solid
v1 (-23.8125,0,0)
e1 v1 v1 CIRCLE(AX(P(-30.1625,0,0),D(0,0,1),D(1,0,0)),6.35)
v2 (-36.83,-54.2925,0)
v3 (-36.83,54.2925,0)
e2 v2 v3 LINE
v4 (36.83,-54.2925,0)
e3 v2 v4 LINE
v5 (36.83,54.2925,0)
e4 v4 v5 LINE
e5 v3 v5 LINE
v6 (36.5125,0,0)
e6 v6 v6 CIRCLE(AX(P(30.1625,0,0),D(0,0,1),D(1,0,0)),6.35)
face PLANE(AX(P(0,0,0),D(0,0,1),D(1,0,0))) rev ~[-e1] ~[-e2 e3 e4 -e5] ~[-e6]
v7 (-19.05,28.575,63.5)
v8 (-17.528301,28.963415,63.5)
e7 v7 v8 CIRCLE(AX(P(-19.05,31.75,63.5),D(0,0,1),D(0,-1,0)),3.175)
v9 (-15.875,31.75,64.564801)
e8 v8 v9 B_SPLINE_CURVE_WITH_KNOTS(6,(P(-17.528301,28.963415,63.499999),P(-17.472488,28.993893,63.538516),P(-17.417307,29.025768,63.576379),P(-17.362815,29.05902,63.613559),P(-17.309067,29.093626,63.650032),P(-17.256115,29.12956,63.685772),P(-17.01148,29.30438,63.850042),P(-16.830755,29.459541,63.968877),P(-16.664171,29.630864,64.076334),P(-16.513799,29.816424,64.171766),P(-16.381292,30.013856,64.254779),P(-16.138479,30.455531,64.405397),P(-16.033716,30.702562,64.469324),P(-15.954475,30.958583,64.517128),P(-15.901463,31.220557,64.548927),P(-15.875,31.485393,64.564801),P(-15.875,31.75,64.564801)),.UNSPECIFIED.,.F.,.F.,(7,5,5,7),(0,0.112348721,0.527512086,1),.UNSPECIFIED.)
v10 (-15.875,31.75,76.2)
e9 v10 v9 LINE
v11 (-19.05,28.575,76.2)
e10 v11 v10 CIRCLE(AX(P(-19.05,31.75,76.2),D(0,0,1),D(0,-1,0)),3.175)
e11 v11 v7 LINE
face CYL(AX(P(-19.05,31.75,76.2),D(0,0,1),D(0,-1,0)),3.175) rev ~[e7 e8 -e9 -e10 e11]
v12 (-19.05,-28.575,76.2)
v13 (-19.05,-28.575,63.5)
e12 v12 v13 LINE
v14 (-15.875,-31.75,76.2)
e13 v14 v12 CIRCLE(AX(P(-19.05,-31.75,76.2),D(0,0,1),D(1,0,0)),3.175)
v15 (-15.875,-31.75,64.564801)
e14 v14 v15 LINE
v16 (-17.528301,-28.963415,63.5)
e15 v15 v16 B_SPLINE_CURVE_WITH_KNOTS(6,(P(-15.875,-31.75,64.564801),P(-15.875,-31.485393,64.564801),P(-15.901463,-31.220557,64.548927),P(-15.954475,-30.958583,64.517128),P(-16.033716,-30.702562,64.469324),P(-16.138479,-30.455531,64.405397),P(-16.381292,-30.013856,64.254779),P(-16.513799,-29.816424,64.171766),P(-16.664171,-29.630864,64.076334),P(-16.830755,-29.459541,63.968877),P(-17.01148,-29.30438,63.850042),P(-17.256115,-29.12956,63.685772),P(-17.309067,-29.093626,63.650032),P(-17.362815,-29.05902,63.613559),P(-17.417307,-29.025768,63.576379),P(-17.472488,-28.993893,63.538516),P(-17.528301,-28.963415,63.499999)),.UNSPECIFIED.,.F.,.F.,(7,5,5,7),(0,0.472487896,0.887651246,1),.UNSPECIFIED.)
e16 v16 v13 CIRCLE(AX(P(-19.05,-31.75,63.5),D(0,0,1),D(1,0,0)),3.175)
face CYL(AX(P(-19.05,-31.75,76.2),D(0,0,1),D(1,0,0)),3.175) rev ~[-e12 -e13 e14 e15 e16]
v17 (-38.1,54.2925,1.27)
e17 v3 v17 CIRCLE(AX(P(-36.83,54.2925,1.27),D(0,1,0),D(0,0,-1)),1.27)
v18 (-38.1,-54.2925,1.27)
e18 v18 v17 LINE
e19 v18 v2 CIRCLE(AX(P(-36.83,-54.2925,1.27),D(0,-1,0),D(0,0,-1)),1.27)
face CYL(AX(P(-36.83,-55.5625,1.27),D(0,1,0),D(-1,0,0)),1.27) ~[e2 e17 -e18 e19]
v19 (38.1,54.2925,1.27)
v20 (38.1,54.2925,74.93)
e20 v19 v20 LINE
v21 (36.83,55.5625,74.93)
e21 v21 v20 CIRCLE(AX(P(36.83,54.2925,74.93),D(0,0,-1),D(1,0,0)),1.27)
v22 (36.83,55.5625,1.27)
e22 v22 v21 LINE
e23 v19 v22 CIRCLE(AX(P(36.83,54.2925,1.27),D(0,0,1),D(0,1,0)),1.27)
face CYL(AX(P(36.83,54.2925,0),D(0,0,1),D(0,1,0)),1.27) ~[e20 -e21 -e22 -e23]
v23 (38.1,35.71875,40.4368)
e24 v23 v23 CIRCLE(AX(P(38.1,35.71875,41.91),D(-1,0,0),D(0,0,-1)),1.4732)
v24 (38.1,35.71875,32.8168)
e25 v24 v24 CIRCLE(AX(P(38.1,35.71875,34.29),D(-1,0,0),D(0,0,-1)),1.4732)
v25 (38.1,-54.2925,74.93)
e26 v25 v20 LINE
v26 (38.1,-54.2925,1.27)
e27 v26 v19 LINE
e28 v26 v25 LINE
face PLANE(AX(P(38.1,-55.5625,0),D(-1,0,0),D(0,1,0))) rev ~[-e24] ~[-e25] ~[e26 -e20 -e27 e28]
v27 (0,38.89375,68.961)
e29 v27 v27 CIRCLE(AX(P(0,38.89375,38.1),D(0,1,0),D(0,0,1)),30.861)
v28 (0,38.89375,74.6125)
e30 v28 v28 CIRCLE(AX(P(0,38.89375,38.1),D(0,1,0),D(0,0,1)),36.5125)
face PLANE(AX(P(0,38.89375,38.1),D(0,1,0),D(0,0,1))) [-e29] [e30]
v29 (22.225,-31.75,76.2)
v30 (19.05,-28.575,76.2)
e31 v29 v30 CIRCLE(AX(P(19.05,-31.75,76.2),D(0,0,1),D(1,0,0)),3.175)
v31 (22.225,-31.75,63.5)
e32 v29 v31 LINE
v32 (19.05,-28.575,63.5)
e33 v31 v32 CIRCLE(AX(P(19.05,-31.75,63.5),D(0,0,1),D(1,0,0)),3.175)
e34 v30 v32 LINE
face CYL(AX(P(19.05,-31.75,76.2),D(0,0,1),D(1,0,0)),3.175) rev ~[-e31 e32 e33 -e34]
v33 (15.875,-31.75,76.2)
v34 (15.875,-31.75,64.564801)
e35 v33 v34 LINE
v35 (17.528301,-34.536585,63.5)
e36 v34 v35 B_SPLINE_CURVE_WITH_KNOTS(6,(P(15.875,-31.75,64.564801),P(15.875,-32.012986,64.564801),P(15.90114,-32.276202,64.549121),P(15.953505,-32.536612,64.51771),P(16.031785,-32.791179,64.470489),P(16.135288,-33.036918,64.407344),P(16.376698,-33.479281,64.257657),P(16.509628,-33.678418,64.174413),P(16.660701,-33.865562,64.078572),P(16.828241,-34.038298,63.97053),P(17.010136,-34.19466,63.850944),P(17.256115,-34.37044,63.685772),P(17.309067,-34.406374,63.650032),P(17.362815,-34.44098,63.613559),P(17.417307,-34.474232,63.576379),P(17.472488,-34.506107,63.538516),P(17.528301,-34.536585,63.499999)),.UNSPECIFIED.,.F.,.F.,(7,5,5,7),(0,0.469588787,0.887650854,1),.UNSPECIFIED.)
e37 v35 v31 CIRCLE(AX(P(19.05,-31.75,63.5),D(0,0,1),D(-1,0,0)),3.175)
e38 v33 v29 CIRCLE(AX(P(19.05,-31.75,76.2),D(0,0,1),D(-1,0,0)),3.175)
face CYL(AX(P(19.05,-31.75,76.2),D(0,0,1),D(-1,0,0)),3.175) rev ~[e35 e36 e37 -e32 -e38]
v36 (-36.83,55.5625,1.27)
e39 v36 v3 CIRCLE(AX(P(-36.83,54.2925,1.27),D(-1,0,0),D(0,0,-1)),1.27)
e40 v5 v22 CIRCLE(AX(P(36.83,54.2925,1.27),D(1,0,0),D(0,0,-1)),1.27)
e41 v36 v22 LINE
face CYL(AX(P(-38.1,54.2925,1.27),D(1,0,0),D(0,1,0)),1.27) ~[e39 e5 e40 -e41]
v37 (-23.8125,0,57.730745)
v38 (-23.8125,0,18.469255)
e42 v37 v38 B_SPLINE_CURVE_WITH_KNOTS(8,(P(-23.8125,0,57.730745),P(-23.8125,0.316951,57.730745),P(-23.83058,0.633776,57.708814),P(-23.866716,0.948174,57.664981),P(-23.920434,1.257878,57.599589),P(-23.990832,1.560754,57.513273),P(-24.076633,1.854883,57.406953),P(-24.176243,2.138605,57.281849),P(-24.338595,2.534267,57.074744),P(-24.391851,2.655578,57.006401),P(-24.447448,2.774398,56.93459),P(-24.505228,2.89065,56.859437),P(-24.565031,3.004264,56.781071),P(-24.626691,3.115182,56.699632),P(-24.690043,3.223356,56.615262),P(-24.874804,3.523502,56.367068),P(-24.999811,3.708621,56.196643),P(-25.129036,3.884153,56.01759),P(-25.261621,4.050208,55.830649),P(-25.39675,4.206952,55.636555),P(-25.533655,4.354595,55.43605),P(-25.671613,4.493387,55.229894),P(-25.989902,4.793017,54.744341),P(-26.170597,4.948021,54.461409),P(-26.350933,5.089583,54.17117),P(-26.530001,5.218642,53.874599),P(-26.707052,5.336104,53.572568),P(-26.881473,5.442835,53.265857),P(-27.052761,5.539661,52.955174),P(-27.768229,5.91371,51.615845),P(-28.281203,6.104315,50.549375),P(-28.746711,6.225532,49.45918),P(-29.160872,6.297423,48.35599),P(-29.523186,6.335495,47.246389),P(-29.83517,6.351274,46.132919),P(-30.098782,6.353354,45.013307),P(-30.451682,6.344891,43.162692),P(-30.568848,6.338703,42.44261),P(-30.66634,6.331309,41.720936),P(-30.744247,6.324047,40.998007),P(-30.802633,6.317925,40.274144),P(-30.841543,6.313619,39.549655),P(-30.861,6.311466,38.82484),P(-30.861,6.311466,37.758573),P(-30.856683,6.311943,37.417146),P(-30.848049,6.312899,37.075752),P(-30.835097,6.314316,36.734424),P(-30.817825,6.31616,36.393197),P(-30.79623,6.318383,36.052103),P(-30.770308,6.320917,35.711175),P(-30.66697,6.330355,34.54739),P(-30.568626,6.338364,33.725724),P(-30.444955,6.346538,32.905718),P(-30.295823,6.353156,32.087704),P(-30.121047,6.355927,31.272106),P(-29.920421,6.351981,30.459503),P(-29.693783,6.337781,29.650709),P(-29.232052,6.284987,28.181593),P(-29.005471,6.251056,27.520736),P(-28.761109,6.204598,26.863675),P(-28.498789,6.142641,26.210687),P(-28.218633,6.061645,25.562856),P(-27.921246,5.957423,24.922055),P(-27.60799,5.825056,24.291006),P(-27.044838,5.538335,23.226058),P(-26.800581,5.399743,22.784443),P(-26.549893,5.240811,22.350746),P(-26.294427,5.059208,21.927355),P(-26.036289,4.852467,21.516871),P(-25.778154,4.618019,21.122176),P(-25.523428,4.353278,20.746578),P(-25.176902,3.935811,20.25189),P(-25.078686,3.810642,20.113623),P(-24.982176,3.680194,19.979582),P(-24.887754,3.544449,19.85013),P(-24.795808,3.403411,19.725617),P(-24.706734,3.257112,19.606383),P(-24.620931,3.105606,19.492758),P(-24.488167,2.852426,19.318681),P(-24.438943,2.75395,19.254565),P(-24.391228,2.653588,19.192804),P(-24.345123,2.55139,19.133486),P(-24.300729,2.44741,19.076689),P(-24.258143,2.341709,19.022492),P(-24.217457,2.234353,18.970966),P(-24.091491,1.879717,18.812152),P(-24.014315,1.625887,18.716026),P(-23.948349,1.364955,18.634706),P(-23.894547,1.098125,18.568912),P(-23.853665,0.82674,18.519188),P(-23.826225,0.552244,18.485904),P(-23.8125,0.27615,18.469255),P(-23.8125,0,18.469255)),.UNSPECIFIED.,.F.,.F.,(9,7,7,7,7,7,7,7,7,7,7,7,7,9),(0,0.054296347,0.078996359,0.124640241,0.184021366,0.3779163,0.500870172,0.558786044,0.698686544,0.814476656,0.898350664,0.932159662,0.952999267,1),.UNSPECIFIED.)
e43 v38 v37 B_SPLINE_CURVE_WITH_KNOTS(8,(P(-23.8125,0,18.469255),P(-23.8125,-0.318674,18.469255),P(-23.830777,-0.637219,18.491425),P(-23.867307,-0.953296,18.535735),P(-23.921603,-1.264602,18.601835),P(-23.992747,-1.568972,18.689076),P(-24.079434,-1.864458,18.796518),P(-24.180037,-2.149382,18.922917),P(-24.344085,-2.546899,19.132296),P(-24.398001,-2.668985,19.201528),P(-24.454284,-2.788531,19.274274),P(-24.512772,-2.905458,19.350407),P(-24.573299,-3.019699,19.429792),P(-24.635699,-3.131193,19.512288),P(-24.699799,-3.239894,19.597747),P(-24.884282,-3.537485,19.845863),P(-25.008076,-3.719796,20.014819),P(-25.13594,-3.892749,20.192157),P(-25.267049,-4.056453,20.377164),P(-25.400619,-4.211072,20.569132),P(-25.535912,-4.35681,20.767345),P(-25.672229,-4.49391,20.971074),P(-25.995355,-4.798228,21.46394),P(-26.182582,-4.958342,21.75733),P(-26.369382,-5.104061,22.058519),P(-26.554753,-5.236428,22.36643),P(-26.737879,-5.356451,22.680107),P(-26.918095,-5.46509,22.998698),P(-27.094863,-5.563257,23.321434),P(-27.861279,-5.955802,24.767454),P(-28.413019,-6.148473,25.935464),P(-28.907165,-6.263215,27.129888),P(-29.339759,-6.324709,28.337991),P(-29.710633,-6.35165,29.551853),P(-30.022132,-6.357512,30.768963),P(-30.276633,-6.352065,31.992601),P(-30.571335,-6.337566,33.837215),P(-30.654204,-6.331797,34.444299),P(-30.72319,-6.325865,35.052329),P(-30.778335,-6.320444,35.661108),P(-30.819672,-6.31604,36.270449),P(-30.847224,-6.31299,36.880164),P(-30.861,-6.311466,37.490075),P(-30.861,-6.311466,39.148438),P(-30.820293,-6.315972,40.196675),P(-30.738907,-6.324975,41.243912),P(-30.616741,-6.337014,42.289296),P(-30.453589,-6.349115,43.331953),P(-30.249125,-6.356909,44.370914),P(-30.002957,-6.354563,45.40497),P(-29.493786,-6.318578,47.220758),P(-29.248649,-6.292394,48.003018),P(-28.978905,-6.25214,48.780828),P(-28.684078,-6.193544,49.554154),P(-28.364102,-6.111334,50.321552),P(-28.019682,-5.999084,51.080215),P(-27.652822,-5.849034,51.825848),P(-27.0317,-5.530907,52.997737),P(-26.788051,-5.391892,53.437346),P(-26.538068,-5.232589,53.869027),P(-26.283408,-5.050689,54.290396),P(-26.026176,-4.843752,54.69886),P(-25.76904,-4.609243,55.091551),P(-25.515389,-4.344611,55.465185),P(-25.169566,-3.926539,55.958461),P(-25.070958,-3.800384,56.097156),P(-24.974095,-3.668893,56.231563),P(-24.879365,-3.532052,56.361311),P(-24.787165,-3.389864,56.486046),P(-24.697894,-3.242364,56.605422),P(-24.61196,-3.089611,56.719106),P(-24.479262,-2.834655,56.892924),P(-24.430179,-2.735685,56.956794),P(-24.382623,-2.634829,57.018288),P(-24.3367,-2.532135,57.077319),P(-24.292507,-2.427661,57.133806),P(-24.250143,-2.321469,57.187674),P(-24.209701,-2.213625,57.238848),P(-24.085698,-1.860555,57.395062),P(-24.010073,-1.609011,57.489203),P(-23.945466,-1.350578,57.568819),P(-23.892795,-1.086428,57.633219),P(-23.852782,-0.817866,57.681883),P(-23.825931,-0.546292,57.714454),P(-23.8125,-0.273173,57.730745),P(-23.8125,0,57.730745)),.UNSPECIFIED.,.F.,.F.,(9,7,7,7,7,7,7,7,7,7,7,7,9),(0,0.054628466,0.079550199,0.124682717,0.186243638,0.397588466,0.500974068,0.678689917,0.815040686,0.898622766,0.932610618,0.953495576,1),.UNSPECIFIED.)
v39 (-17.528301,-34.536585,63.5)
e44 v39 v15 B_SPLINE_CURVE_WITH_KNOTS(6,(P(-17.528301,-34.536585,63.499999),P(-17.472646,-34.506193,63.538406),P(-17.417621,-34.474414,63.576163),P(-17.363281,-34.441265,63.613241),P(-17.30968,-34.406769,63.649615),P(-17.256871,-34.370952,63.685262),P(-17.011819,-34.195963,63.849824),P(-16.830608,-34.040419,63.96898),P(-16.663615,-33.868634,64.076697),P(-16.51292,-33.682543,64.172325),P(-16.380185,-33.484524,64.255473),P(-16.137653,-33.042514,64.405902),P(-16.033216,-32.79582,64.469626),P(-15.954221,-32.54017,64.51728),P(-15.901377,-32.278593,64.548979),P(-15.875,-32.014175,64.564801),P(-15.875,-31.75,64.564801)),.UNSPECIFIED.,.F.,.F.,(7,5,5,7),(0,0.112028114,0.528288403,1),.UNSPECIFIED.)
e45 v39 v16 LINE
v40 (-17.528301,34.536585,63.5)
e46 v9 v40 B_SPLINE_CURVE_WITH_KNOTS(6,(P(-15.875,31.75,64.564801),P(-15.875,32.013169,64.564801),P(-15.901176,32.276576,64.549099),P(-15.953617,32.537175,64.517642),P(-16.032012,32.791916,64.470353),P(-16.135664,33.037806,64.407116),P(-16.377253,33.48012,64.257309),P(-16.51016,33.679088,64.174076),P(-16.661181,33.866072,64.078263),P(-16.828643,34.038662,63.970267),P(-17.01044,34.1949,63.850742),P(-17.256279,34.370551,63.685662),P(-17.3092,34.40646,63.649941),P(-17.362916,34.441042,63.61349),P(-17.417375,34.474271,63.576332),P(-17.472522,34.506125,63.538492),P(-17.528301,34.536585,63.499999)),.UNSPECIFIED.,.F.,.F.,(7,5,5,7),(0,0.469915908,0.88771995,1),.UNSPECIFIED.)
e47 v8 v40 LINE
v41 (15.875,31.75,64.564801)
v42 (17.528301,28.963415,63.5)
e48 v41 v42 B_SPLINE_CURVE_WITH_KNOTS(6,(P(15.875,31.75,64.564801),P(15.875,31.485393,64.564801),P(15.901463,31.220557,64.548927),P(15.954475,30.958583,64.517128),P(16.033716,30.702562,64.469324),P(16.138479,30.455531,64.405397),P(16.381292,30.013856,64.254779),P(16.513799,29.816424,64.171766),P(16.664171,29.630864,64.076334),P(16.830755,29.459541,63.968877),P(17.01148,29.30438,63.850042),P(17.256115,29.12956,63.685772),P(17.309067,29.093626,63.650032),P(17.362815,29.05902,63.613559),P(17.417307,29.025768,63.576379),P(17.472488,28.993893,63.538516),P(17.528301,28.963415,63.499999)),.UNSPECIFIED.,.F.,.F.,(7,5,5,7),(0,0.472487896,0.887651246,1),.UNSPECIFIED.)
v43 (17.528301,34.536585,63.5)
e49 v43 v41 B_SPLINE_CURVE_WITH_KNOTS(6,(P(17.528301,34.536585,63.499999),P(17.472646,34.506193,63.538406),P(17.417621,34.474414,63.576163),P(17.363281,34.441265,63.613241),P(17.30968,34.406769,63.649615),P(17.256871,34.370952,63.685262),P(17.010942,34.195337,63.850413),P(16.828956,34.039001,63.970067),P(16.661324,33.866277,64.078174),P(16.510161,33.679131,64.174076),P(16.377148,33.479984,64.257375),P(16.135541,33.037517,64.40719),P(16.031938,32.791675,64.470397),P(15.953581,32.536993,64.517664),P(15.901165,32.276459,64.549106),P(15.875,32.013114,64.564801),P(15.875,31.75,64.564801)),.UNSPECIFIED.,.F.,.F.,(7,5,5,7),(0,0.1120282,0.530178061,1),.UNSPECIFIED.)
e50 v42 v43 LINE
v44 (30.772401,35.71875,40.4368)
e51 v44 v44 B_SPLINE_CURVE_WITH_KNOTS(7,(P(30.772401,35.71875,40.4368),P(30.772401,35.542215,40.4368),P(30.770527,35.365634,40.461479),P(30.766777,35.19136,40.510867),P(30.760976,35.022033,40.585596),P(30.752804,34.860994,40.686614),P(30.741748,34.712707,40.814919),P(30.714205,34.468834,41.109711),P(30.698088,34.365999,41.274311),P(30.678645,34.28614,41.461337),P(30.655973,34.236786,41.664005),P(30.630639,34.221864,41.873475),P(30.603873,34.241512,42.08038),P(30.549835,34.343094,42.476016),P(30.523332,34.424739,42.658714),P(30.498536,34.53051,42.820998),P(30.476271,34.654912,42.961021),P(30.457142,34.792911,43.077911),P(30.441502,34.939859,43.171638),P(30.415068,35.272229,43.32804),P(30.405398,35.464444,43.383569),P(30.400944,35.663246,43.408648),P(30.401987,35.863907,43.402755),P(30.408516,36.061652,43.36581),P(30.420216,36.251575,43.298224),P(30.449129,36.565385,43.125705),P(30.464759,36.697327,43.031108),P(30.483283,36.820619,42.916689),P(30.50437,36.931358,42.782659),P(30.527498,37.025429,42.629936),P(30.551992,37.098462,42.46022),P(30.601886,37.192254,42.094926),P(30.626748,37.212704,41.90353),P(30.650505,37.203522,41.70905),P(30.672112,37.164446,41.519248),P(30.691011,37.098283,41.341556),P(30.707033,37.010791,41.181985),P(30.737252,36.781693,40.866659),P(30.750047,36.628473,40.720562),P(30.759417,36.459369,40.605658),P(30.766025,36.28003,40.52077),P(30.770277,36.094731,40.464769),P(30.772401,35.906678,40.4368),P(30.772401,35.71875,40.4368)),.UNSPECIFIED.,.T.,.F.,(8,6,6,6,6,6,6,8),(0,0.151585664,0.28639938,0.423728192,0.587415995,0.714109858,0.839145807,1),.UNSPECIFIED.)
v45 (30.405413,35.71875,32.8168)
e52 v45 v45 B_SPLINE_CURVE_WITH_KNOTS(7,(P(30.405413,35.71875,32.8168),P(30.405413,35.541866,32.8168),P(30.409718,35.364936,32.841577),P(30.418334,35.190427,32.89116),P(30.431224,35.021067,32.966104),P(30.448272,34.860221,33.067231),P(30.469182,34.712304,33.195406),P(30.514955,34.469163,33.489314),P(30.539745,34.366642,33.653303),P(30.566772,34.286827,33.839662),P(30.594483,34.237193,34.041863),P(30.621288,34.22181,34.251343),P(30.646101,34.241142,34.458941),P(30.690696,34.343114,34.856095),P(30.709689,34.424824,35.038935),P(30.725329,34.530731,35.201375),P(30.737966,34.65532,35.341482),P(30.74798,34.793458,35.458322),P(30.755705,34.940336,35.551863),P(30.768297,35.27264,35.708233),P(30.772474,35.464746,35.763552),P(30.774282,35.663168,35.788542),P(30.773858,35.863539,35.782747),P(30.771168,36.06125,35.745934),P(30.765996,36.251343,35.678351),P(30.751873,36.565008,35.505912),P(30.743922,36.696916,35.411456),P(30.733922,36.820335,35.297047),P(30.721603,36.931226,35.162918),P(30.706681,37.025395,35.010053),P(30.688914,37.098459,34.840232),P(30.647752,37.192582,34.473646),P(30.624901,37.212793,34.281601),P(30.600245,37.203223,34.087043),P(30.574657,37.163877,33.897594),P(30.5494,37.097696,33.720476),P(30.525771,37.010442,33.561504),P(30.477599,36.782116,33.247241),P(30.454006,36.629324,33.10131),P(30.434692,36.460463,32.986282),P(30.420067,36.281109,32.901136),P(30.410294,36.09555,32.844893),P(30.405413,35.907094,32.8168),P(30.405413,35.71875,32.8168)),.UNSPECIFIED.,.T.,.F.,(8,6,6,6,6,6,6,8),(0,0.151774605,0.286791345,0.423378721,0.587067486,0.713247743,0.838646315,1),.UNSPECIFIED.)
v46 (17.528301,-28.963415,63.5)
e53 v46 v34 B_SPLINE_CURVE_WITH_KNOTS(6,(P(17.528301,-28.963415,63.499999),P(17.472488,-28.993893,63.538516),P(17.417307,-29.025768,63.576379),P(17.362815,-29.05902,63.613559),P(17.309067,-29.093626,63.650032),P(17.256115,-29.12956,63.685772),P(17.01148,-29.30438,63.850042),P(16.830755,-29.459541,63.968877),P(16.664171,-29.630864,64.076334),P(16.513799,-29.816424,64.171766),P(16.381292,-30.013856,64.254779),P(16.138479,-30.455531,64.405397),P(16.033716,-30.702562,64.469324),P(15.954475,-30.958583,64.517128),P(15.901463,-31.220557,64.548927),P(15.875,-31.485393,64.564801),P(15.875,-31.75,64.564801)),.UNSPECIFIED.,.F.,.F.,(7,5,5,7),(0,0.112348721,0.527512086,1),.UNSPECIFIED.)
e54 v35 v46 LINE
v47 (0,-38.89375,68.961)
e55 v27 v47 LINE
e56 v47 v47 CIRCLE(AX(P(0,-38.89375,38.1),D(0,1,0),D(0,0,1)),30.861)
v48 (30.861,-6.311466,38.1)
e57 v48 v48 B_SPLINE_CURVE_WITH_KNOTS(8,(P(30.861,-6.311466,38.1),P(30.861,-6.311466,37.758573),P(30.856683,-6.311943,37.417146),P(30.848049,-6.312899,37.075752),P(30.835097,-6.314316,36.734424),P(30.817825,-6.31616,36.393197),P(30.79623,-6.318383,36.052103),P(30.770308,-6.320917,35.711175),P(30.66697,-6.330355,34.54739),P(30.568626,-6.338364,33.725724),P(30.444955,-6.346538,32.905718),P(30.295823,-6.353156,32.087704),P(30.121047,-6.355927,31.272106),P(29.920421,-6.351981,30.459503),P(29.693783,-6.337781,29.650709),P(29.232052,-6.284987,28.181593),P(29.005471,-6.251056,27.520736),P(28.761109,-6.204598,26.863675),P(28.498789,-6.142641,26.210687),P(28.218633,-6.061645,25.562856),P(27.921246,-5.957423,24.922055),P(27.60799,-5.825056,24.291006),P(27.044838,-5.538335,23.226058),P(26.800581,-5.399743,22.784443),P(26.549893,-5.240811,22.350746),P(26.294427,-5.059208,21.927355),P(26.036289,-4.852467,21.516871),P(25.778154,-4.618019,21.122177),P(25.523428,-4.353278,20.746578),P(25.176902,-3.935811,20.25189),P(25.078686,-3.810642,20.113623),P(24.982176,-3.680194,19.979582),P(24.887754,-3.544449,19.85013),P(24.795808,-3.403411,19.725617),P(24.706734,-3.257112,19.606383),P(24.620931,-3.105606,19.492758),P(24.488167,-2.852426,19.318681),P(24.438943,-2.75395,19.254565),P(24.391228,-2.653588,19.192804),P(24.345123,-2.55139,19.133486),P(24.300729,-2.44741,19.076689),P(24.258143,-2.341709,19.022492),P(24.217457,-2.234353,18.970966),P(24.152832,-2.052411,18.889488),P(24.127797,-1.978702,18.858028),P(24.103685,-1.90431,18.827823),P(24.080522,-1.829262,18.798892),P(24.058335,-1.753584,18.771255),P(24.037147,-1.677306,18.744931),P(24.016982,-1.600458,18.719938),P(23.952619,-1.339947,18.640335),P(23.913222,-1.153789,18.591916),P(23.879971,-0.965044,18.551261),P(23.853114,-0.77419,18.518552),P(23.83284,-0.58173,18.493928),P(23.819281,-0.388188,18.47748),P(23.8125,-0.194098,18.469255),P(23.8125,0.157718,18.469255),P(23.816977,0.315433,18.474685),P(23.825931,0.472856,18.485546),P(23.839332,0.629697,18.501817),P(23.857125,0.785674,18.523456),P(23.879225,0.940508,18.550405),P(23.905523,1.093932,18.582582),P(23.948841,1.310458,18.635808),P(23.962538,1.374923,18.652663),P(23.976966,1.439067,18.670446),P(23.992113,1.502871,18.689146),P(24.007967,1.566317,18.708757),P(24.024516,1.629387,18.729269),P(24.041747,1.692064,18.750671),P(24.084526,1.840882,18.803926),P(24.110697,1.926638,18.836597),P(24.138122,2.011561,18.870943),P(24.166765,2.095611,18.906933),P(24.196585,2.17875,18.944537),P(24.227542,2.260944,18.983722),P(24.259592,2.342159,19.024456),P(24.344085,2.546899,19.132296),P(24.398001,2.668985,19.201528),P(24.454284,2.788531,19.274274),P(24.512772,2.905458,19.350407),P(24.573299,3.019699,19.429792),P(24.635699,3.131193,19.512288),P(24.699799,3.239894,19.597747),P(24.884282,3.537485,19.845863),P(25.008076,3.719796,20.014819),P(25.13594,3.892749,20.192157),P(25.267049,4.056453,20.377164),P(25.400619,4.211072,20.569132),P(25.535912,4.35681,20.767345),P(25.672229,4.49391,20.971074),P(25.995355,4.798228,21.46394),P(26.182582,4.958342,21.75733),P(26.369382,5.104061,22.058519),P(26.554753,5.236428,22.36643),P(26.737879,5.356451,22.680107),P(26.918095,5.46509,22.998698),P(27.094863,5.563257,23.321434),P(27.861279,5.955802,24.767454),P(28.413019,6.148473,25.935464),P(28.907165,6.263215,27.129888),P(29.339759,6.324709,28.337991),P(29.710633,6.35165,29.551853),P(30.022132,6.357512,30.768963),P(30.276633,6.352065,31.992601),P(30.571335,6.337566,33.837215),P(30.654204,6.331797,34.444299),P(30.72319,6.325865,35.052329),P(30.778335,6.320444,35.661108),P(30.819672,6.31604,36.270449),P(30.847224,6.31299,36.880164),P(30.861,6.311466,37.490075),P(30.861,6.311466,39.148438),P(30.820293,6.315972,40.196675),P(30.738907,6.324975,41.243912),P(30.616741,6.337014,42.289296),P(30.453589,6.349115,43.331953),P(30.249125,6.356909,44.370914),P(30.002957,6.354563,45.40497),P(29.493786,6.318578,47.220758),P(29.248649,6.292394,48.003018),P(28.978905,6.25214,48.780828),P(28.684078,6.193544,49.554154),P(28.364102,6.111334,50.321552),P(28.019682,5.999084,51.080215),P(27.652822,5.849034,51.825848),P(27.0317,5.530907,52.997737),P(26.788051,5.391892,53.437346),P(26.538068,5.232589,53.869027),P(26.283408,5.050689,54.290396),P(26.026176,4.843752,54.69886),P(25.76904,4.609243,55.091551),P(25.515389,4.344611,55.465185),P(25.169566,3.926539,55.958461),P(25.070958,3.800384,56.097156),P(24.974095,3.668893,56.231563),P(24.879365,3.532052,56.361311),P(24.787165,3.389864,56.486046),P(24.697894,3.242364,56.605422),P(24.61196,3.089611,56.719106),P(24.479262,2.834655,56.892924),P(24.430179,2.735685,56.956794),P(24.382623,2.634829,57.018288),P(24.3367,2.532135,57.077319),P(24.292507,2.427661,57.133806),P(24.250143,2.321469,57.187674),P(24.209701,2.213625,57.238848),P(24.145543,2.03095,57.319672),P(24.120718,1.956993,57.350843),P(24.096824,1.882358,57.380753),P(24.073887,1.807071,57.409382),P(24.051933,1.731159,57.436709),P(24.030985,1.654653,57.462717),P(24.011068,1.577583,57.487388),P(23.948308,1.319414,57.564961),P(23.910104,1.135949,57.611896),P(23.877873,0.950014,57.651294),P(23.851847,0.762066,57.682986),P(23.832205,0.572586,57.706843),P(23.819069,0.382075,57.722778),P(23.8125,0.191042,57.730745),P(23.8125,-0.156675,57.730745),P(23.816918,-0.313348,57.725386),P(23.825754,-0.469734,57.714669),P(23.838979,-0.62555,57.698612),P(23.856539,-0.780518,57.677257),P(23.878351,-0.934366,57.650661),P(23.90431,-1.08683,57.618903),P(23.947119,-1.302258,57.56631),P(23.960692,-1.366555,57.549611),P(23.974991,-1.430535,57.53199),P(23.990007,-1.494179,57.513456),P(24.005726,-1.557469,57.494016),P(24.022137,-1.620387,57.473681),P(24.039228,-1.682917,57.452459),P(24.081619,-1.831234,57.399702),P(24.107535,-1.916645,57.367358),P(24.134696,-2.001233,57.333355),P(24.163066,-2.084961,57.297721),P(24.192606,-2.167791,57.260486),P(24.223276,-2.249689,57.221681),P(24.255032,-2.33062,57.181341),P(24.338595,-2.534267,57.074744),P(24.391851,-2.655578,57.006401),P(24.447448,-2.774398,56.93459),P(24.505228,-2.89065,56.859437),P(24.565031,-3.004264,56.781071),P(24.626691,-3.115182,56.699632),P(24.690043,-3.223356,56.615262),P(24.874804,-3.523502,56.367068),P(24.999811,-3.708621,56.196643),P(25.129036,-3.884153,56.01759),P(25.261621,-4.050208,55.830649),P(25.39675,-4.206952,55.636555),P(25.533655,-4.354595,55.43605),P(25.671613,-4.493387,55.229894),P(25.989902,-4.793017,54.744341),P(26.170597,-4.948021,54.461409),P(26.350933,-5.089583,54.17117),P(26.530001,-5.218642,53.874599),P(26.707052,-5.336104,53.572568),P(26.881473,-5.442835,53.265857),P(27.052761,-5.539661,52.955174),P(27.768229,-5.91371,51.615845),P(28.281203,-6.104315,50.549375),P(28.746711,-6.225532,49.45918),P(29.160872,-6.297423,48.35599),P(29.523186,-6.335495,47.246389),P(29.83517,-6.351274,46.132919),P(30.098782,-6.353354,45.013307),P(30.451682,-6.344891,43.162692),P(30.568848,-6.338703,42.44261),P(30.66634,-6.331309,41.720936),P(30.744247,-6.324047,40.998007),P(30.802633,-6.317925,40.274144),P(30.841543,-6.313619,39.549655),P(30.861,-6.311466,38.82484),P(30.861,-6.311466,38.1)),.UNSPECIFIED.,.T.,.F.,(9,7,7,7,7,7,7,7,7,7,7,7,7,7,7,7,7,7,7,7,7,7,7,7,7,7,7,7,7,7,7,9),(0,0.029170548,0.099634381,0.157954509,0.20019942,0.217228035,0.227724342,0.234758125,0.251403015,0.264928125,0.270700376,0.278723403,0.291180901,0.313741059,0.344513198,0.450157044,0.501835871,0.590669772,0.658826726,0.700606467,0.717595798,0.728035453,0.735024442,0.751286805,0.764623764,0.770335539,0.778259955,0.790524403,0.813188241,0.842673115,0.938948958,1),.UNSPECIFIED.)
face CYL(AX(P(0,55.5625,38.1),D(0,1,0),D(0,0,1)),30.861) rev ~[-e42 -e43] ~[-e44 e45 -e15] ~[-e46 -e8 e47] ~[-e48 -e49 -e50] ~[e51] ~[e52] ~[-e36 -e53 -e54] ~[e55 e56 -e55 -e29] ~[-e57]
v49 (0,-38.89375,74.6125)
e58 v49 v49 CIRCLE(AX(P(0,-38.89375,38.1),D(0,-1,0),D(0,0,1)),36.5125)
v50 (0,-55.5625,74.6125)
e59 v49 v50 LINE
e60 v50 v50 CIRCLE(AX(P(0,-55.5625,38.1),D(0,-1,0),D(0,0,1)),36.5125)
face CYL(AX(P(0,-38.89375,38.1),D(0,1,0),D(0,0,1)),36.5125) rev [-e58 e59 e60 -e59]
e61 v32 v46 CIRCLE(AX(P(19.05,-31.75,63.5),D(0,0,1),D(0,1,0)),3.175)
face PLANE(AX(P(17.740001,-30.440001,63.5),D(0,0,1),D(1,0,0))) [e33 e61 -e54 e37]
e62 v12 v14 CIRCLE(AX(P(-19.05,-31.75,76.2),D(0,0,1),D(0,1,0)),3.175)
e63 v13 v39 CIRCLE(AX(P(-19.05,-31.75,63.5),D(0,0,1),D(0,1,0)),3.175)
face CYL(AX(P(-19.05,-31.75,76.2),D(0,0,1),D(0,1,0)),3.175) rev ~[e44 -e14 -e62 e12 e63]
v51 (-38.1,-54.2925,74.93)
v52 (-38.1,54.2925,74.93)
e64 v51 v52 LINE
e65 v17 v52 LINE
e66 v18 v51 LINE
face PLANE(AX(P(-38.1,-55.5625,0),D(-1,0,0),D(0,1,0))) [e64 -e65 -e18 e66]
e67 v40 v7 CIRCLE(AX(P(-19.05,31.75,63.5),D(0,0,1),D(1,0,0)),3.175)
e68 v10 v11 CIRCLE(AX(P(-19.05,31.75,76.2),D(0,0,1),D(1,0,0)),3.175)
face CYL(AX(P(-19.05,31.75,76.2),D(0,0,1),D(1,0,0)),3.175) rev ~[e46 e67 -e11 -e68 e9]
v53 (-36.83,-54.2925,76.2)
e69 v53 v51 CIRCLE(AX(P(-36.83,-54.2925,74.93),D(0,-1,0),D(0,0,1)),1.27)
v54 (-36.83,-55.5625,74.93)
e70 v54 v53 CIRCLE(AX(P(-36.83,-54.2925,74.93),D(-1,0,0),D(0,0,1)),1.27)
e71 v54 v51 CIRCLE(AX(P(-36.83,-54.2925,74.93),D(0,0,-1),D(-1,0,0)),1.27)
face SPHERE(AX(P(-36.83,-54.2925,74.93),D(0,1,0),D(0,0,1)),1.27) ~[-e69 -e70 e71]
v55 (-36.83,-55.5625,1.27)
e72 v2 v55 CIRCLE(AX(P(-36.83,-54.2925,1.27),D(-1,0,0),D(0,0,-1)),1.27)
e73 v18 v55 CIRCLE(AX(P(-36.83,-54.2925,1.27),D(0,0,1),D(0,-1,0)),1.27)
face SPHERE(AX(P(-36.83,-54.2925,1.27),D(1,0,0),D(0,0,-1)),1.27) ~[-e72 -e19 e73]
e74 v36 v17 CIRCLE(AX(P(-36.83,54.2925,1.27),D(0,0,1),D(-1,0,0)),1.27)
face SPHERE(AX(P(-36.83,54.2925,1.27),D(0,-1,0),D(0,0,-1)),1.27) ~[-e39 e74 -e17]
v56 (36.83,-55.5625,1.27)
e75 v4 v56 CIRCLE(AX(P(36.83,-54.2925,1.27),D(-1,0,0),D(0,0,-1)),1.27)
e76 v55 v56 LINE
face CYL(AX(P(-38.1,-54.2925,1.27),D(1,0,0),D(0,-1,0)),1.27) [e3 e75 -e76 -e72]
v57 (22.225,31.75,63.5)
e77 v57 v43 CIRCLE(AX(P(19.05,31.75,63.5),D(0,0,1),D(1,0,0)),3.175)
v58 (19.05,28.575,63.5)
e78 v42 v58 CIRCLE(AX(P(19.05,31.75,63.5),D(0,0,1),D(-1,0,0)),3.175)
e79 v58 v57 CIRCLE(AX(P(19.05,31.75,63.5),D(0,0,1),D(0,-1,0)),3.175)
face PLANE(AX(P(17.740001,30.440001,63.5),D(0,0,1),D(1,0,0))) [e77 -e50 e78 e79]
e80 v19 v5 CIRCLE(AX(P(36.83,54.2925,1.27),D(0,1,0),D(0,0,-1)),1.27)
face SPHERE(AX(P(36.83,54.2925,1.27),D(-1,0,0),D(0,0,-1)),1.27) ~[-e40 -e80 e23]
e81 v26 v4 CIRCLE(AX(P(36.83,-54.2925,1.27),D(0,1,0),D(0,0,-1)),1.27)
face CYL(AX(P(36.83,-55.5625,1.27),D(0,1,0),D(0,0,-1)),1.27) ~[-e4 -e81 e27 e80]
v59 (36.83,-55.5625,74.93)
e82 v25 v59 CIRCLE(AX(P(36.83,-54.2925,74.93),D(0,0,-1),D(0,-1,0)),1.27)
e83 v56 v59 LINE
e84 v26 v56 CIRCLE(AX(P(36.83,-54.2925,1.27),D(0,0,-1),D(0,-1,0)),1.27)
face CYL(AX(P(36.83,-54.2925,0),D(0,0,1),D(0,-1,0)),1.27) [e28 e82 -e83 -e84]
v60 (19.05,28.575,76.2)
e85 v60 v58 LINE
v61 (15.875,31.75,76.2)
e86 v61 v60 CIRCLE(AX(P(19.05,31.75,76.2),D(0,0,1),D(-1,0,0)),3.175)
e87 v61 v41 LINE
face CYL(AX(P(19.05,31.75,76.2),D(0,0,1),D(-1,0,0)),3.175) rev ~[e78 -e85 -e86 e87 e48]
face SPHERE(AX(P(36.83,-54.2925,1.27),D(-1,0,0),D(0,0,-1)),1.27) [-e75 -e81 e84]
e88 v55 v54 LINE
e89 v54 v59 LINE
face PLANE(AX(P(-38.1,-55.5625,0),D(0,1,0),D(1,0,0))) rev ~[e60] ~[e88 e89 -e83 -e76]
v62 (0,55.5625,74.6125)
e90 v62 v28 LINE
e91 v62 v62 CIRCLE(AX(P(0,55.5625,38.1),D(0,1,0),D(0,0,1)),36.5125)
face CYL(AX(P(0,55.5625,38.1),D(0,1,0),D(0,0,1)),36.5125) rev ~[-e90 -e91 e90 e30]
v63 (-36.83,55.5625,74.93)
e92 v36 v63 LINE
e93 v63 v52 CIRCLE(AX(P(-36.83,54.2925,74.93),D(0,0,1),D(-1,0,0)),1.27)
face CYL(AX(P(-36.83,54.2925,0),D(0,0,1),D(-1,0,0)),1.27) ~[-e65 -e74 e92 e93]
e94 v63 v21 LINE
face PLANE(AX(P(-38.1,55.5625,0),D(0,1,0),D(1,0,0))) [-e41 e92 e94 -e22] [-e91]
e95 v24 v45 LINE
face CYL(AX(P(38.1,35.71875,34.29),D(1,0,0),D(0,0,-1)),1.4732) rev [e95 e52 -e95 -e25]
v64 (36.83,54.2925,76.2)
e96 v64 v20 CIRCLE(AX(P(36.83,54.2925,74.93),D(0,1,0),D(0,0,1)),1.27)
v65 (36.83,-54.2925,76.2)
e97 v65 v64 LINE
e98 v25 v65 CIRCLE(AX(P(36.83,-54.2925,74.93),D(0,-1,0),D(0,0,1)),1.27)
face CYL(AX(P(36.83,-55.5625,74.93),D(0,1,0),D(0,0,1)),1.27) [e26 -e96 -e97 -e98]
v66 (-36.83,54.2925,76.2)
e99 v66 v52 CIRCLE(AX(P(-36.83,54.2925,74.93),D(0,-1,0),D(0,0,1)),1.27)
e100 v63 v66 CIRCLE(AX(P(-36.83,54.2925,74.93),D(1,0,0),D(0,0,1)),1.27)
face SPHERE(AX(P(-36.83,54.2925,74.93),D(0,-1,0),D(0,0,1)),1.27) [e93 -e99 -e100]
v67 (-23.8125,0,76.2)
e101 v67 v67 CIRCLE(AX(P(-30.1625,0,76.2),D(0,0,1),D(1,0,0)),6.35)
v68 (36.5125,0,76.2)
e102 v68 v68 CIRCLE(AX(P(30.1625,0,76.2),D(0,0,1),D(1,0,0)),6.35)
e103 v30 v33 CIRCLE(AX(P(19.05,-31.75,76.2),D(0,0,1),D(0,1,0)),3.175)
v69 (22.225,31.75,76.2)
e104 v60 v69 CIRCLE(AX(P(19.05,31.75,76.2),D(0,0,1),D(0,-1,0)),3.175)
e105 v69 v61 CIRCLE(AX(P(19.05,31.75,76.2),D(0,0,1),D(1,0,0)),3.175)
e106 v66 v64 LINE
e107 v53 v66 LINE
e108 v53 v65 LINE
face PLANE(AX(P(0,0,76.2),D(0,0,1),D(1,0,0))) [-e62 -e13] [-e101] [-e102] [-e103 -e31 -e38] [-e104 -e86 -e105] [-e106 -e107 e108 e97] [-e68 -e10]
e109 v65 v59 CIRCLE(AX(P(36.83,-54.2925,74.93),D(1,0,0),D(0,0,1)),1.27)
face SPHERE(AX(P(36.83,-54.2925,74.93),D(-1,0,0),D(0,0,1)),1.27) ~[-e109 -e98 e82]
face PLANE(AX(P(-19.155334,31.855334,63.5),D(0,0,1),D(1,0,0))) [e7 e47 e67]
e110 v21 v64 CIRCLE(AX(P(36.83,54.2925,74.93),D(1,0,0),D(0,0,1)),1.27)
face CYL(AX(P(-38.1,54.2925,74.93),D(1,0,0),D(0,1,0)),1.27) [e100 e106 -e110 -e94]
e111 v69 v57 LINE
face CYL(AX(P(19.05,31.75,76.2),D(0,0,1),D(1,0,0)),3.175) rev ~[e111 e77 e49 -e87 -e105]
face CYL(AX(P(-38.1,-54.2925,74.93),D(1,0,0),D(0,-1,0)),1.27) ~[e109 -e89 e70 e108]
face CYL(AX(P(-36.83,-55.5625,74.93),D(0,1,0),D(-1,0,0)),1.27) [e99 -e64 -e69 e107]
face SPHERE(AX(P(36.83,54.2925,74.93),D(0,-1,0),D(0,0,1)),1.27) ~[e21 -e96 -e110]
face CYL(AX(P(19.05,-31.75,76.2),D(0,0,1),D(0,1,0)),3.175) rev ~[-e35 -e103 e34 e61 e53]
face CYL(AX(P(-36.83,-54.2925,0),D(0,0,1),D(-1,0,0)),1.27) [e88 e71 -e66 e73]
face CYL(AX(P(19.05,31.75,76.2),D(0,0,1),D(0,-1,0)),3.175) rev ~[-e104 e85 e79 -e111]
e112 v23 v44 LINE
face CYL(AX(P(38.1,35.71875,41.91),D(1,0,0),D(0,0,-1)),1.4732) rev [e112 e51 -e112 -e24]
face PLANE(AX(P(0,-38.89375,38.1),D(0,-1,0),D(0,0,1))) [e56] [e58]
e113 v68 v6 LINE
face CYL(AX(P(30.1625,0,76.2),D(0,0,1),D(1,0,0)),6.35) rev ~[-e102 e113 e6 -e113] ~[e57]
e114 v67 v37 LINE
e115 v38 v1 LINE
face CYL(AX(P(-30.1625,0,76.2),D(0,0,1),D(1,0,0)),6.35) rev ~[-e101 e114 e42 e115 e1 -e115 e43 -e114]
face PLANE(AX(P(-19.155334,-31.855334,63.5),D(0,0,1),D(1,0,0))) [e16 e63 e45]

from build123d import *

# Parameters (mm, degrees)
SKETCH1_W           = 76.2
SKETCH1_H           = 111.125
BOSS_EXTRUDE1_DEPTH = 76.2
SKETCH2_R           = 30.861
CUT_EXTRUDE1_DEPTH  = 127
SKETCH3_R           = 36.5125
CUT_EXTRUDE2_DEPTH  = 16.66875
CUT_EXTRUDE3_START  = -16.66875
SKETCH4_R           = 36.5125
CUT_EXTRUDE3_DEPTH  = 16.66875
SKETCH5_R           = 6.35
CUT_EXTRUDE4_DEPTH  = 102.711559846
CUT_EXTRUDE5_DEPTH  = 12.7
FILLET1_R           = 1.27
SKETCH8_R           = 1.4732
CUT_EXTRUDE6_DEPTH  = 23.622


with BuildPart() as part:
    # Sketch1 → Boss-Extrude1 (new body)
    with BuildSketch(Plane.XY):
        Rectangle(SKETCH1_W, SKETCH1_H)
    extrude(amount=BOSS_EXTRUDE1_DEPTH)

    # Sketch2 → Cut-Extrude1 (cut)
    with BuildSketch(Plane(origin=(0, 55.5625, 0), x_dir=(1, 0, 0), z_dir=(0, 1, 0))):
        with Locations(Location((0, -38.1, 0), (0, 0, 270))):
            Circle(SKETCH2_R)
    extrude(amount=-CUT_EXTRUDE1_DEPTH, mode=Mode.SUBTRACT)

    # Sketch3 → Cut-Extrude2 (cut)
    with BuildSketch(Plane(origin=(0, 55.5625, 0), x_dir=(1, 0, 0), z_dir=(0, 1, 0))):
        with Locations(Location((0, -38.1, 0), (0, 0, 270))):
            Circle(SKETCH3_R)
    extrude(amount=-CUT_EXTRUDE2_DEPTH, mode=Mode.SUBTRACT)

    # Sketch4 → Cut-Extrude3 (cut)
    with BuildSketch(Plane.XZ.offset(55.5625).offset(CUT_EXTRUDE3_START)):
        with Locations(Location((0, 38.1, 0), (0, 0, 90))):
            Circle(SKETCH4_R)
    extrude(amount=CUT_EXTRUDE3_DEPTH, mode=Mode.SUBTRACT)

    # Sketch5 → Cut-Extrude4 (cut, through all)
    with BuildSketch(Plane.XY.offset(76.2)):
        with Locations((-30.1625, 0)):
            Circle(SKETCH5_R)
        with Locations((30.1625, 0)):
            Circle(SKETCH5_R)
    extrude(amount=-CUT_EXTRUDE4_DEPTH, mode=Mode.SUBTRACT)

    # Sketch6 → Cut-Extrude5 (cut)
    with BuildSketch(Plane.XY.offset(76.2)):
        with BuildLine():
            ThreePointArc((-15.875, 31.75), (-21.29506403, 33.99506403), (-19.05, 28.575))
            Line((-19.05, 28.575), (-19.05, 31.75))
            Line((-19.05, 31.75), (-15.875, 31.75))
        make_face()
        with BuildLine():
            Line((-19.05, 31.75), (-19.05, 28.575))
            ThreePointArc((-19.05, 28.575), (-16.80493597, 29.50493597), (-15.875, 31.75))
            Line((-15.875, 31.75), (-19.05, 31.75))
        make_face()
        with BuildLine():
            ThreePointArc((15.875, 31.75), (16.80493597, 29.50493597), (19.05, 28.575))
            Line((19.05, 28.575), (19.05, 31.75))
            Line((19.05, 31.75), (15.875, 31.75))
        make_face()
        with BuildLine():
            Line((19.05, 31.75), (19.05, 28.575))
            ThreePointArc((19.05, 28.575), (21.29506403, 29.50493597), (22.225, 31.75))
            ThreePointArc((22.225, 31.75), (19.05, 34.925), (15.875, 31.75))
            Line((15.875, 31.75), (19.05, 31.75))
        make_face()
        with BuildLine():
            ThreePointArc((-19.05, -28.575), (-21.29506403, -33.99506403), (-15.875, -31.75))
            Line((-15.875, -31.75), (-19.05, -31.75))
            Line((-19.05, -31.75), (-19.05, -28.575))
        make_face()
        with BuildLine():
            Line((-19.05, -31.75), (-15.875, -31.75))
            ThreePointArc((-15.875, -31.75), (-16.80493597, -29.50493597), (-19.05, -28.575))
            Line((-19.05, -28.575), (-19.05, -31.75))
        make_face()
        with BuildLine():
            ThreePointArc((19.05, -28.575), (16.80493597, -29.50493597), (15.875, -31.75))
            Line((15.875, -31.75), (19.05, -31.75))
            Line((19.05, -31.75), (19.05, -28.575))
        make_face()
        with BuildLine():
            Line((19.05, -31.75), (15.875, -31.75))
            ThreePointArc((15.875, -31.75), (19.05, -34.925), (22.225, -31.75))
            ThreePointArc((22.225, -31.75), (21.29506403, -29.50493597), (19.05, -28.575))
            Line((19.05, -28.575), (19.05, -31.75))
        make_face()
    extrude(amount=-CUT_EXTRUDE5_DEPTH, mode=Mode.SUBTRACT)

    # Fillet1
    fillet1_edges = [part.edges().sort_by_distance(p)[0] for p in [
        (-38.1, 0, 76.2),
        (0, -55.5625, 76.2),
        (38.1, 0, 76.2),
        (0, -55.5625, 0),
        (-38.1, 0, 0),
        (0, 55.5625, 0),
        (38.1, 0, 0),
        (0, 55.5625, 76.2),
        (38.1, -55.5625, 38.1),
        (-38.1, -55.5625, 38.1),
        (-38.1, 55.5625, 38.1),
        (38.1, 55.5625, 38.1),
    ]]
    fillet(fillet1_edges, radius=FILLET1_R)

    # Sketch8 → Cut-Extrude6 (cut)
    with BuildSketch(Plane.ZY.offset(-38.1)):
        with Locations(Location((34.29, 35.71875, 0), (0, 0, 180))):
            Circle(SKETCH8_R)
        with Locations(Location((41.91, 35.71875, 0), (0, 0, 180))):
            Circle(SKETCH8_R)
    extrude(amount=CUT_EXTRUDE6_DEPTH, mode=Mode.SUBTRACT)


solid = part.part
